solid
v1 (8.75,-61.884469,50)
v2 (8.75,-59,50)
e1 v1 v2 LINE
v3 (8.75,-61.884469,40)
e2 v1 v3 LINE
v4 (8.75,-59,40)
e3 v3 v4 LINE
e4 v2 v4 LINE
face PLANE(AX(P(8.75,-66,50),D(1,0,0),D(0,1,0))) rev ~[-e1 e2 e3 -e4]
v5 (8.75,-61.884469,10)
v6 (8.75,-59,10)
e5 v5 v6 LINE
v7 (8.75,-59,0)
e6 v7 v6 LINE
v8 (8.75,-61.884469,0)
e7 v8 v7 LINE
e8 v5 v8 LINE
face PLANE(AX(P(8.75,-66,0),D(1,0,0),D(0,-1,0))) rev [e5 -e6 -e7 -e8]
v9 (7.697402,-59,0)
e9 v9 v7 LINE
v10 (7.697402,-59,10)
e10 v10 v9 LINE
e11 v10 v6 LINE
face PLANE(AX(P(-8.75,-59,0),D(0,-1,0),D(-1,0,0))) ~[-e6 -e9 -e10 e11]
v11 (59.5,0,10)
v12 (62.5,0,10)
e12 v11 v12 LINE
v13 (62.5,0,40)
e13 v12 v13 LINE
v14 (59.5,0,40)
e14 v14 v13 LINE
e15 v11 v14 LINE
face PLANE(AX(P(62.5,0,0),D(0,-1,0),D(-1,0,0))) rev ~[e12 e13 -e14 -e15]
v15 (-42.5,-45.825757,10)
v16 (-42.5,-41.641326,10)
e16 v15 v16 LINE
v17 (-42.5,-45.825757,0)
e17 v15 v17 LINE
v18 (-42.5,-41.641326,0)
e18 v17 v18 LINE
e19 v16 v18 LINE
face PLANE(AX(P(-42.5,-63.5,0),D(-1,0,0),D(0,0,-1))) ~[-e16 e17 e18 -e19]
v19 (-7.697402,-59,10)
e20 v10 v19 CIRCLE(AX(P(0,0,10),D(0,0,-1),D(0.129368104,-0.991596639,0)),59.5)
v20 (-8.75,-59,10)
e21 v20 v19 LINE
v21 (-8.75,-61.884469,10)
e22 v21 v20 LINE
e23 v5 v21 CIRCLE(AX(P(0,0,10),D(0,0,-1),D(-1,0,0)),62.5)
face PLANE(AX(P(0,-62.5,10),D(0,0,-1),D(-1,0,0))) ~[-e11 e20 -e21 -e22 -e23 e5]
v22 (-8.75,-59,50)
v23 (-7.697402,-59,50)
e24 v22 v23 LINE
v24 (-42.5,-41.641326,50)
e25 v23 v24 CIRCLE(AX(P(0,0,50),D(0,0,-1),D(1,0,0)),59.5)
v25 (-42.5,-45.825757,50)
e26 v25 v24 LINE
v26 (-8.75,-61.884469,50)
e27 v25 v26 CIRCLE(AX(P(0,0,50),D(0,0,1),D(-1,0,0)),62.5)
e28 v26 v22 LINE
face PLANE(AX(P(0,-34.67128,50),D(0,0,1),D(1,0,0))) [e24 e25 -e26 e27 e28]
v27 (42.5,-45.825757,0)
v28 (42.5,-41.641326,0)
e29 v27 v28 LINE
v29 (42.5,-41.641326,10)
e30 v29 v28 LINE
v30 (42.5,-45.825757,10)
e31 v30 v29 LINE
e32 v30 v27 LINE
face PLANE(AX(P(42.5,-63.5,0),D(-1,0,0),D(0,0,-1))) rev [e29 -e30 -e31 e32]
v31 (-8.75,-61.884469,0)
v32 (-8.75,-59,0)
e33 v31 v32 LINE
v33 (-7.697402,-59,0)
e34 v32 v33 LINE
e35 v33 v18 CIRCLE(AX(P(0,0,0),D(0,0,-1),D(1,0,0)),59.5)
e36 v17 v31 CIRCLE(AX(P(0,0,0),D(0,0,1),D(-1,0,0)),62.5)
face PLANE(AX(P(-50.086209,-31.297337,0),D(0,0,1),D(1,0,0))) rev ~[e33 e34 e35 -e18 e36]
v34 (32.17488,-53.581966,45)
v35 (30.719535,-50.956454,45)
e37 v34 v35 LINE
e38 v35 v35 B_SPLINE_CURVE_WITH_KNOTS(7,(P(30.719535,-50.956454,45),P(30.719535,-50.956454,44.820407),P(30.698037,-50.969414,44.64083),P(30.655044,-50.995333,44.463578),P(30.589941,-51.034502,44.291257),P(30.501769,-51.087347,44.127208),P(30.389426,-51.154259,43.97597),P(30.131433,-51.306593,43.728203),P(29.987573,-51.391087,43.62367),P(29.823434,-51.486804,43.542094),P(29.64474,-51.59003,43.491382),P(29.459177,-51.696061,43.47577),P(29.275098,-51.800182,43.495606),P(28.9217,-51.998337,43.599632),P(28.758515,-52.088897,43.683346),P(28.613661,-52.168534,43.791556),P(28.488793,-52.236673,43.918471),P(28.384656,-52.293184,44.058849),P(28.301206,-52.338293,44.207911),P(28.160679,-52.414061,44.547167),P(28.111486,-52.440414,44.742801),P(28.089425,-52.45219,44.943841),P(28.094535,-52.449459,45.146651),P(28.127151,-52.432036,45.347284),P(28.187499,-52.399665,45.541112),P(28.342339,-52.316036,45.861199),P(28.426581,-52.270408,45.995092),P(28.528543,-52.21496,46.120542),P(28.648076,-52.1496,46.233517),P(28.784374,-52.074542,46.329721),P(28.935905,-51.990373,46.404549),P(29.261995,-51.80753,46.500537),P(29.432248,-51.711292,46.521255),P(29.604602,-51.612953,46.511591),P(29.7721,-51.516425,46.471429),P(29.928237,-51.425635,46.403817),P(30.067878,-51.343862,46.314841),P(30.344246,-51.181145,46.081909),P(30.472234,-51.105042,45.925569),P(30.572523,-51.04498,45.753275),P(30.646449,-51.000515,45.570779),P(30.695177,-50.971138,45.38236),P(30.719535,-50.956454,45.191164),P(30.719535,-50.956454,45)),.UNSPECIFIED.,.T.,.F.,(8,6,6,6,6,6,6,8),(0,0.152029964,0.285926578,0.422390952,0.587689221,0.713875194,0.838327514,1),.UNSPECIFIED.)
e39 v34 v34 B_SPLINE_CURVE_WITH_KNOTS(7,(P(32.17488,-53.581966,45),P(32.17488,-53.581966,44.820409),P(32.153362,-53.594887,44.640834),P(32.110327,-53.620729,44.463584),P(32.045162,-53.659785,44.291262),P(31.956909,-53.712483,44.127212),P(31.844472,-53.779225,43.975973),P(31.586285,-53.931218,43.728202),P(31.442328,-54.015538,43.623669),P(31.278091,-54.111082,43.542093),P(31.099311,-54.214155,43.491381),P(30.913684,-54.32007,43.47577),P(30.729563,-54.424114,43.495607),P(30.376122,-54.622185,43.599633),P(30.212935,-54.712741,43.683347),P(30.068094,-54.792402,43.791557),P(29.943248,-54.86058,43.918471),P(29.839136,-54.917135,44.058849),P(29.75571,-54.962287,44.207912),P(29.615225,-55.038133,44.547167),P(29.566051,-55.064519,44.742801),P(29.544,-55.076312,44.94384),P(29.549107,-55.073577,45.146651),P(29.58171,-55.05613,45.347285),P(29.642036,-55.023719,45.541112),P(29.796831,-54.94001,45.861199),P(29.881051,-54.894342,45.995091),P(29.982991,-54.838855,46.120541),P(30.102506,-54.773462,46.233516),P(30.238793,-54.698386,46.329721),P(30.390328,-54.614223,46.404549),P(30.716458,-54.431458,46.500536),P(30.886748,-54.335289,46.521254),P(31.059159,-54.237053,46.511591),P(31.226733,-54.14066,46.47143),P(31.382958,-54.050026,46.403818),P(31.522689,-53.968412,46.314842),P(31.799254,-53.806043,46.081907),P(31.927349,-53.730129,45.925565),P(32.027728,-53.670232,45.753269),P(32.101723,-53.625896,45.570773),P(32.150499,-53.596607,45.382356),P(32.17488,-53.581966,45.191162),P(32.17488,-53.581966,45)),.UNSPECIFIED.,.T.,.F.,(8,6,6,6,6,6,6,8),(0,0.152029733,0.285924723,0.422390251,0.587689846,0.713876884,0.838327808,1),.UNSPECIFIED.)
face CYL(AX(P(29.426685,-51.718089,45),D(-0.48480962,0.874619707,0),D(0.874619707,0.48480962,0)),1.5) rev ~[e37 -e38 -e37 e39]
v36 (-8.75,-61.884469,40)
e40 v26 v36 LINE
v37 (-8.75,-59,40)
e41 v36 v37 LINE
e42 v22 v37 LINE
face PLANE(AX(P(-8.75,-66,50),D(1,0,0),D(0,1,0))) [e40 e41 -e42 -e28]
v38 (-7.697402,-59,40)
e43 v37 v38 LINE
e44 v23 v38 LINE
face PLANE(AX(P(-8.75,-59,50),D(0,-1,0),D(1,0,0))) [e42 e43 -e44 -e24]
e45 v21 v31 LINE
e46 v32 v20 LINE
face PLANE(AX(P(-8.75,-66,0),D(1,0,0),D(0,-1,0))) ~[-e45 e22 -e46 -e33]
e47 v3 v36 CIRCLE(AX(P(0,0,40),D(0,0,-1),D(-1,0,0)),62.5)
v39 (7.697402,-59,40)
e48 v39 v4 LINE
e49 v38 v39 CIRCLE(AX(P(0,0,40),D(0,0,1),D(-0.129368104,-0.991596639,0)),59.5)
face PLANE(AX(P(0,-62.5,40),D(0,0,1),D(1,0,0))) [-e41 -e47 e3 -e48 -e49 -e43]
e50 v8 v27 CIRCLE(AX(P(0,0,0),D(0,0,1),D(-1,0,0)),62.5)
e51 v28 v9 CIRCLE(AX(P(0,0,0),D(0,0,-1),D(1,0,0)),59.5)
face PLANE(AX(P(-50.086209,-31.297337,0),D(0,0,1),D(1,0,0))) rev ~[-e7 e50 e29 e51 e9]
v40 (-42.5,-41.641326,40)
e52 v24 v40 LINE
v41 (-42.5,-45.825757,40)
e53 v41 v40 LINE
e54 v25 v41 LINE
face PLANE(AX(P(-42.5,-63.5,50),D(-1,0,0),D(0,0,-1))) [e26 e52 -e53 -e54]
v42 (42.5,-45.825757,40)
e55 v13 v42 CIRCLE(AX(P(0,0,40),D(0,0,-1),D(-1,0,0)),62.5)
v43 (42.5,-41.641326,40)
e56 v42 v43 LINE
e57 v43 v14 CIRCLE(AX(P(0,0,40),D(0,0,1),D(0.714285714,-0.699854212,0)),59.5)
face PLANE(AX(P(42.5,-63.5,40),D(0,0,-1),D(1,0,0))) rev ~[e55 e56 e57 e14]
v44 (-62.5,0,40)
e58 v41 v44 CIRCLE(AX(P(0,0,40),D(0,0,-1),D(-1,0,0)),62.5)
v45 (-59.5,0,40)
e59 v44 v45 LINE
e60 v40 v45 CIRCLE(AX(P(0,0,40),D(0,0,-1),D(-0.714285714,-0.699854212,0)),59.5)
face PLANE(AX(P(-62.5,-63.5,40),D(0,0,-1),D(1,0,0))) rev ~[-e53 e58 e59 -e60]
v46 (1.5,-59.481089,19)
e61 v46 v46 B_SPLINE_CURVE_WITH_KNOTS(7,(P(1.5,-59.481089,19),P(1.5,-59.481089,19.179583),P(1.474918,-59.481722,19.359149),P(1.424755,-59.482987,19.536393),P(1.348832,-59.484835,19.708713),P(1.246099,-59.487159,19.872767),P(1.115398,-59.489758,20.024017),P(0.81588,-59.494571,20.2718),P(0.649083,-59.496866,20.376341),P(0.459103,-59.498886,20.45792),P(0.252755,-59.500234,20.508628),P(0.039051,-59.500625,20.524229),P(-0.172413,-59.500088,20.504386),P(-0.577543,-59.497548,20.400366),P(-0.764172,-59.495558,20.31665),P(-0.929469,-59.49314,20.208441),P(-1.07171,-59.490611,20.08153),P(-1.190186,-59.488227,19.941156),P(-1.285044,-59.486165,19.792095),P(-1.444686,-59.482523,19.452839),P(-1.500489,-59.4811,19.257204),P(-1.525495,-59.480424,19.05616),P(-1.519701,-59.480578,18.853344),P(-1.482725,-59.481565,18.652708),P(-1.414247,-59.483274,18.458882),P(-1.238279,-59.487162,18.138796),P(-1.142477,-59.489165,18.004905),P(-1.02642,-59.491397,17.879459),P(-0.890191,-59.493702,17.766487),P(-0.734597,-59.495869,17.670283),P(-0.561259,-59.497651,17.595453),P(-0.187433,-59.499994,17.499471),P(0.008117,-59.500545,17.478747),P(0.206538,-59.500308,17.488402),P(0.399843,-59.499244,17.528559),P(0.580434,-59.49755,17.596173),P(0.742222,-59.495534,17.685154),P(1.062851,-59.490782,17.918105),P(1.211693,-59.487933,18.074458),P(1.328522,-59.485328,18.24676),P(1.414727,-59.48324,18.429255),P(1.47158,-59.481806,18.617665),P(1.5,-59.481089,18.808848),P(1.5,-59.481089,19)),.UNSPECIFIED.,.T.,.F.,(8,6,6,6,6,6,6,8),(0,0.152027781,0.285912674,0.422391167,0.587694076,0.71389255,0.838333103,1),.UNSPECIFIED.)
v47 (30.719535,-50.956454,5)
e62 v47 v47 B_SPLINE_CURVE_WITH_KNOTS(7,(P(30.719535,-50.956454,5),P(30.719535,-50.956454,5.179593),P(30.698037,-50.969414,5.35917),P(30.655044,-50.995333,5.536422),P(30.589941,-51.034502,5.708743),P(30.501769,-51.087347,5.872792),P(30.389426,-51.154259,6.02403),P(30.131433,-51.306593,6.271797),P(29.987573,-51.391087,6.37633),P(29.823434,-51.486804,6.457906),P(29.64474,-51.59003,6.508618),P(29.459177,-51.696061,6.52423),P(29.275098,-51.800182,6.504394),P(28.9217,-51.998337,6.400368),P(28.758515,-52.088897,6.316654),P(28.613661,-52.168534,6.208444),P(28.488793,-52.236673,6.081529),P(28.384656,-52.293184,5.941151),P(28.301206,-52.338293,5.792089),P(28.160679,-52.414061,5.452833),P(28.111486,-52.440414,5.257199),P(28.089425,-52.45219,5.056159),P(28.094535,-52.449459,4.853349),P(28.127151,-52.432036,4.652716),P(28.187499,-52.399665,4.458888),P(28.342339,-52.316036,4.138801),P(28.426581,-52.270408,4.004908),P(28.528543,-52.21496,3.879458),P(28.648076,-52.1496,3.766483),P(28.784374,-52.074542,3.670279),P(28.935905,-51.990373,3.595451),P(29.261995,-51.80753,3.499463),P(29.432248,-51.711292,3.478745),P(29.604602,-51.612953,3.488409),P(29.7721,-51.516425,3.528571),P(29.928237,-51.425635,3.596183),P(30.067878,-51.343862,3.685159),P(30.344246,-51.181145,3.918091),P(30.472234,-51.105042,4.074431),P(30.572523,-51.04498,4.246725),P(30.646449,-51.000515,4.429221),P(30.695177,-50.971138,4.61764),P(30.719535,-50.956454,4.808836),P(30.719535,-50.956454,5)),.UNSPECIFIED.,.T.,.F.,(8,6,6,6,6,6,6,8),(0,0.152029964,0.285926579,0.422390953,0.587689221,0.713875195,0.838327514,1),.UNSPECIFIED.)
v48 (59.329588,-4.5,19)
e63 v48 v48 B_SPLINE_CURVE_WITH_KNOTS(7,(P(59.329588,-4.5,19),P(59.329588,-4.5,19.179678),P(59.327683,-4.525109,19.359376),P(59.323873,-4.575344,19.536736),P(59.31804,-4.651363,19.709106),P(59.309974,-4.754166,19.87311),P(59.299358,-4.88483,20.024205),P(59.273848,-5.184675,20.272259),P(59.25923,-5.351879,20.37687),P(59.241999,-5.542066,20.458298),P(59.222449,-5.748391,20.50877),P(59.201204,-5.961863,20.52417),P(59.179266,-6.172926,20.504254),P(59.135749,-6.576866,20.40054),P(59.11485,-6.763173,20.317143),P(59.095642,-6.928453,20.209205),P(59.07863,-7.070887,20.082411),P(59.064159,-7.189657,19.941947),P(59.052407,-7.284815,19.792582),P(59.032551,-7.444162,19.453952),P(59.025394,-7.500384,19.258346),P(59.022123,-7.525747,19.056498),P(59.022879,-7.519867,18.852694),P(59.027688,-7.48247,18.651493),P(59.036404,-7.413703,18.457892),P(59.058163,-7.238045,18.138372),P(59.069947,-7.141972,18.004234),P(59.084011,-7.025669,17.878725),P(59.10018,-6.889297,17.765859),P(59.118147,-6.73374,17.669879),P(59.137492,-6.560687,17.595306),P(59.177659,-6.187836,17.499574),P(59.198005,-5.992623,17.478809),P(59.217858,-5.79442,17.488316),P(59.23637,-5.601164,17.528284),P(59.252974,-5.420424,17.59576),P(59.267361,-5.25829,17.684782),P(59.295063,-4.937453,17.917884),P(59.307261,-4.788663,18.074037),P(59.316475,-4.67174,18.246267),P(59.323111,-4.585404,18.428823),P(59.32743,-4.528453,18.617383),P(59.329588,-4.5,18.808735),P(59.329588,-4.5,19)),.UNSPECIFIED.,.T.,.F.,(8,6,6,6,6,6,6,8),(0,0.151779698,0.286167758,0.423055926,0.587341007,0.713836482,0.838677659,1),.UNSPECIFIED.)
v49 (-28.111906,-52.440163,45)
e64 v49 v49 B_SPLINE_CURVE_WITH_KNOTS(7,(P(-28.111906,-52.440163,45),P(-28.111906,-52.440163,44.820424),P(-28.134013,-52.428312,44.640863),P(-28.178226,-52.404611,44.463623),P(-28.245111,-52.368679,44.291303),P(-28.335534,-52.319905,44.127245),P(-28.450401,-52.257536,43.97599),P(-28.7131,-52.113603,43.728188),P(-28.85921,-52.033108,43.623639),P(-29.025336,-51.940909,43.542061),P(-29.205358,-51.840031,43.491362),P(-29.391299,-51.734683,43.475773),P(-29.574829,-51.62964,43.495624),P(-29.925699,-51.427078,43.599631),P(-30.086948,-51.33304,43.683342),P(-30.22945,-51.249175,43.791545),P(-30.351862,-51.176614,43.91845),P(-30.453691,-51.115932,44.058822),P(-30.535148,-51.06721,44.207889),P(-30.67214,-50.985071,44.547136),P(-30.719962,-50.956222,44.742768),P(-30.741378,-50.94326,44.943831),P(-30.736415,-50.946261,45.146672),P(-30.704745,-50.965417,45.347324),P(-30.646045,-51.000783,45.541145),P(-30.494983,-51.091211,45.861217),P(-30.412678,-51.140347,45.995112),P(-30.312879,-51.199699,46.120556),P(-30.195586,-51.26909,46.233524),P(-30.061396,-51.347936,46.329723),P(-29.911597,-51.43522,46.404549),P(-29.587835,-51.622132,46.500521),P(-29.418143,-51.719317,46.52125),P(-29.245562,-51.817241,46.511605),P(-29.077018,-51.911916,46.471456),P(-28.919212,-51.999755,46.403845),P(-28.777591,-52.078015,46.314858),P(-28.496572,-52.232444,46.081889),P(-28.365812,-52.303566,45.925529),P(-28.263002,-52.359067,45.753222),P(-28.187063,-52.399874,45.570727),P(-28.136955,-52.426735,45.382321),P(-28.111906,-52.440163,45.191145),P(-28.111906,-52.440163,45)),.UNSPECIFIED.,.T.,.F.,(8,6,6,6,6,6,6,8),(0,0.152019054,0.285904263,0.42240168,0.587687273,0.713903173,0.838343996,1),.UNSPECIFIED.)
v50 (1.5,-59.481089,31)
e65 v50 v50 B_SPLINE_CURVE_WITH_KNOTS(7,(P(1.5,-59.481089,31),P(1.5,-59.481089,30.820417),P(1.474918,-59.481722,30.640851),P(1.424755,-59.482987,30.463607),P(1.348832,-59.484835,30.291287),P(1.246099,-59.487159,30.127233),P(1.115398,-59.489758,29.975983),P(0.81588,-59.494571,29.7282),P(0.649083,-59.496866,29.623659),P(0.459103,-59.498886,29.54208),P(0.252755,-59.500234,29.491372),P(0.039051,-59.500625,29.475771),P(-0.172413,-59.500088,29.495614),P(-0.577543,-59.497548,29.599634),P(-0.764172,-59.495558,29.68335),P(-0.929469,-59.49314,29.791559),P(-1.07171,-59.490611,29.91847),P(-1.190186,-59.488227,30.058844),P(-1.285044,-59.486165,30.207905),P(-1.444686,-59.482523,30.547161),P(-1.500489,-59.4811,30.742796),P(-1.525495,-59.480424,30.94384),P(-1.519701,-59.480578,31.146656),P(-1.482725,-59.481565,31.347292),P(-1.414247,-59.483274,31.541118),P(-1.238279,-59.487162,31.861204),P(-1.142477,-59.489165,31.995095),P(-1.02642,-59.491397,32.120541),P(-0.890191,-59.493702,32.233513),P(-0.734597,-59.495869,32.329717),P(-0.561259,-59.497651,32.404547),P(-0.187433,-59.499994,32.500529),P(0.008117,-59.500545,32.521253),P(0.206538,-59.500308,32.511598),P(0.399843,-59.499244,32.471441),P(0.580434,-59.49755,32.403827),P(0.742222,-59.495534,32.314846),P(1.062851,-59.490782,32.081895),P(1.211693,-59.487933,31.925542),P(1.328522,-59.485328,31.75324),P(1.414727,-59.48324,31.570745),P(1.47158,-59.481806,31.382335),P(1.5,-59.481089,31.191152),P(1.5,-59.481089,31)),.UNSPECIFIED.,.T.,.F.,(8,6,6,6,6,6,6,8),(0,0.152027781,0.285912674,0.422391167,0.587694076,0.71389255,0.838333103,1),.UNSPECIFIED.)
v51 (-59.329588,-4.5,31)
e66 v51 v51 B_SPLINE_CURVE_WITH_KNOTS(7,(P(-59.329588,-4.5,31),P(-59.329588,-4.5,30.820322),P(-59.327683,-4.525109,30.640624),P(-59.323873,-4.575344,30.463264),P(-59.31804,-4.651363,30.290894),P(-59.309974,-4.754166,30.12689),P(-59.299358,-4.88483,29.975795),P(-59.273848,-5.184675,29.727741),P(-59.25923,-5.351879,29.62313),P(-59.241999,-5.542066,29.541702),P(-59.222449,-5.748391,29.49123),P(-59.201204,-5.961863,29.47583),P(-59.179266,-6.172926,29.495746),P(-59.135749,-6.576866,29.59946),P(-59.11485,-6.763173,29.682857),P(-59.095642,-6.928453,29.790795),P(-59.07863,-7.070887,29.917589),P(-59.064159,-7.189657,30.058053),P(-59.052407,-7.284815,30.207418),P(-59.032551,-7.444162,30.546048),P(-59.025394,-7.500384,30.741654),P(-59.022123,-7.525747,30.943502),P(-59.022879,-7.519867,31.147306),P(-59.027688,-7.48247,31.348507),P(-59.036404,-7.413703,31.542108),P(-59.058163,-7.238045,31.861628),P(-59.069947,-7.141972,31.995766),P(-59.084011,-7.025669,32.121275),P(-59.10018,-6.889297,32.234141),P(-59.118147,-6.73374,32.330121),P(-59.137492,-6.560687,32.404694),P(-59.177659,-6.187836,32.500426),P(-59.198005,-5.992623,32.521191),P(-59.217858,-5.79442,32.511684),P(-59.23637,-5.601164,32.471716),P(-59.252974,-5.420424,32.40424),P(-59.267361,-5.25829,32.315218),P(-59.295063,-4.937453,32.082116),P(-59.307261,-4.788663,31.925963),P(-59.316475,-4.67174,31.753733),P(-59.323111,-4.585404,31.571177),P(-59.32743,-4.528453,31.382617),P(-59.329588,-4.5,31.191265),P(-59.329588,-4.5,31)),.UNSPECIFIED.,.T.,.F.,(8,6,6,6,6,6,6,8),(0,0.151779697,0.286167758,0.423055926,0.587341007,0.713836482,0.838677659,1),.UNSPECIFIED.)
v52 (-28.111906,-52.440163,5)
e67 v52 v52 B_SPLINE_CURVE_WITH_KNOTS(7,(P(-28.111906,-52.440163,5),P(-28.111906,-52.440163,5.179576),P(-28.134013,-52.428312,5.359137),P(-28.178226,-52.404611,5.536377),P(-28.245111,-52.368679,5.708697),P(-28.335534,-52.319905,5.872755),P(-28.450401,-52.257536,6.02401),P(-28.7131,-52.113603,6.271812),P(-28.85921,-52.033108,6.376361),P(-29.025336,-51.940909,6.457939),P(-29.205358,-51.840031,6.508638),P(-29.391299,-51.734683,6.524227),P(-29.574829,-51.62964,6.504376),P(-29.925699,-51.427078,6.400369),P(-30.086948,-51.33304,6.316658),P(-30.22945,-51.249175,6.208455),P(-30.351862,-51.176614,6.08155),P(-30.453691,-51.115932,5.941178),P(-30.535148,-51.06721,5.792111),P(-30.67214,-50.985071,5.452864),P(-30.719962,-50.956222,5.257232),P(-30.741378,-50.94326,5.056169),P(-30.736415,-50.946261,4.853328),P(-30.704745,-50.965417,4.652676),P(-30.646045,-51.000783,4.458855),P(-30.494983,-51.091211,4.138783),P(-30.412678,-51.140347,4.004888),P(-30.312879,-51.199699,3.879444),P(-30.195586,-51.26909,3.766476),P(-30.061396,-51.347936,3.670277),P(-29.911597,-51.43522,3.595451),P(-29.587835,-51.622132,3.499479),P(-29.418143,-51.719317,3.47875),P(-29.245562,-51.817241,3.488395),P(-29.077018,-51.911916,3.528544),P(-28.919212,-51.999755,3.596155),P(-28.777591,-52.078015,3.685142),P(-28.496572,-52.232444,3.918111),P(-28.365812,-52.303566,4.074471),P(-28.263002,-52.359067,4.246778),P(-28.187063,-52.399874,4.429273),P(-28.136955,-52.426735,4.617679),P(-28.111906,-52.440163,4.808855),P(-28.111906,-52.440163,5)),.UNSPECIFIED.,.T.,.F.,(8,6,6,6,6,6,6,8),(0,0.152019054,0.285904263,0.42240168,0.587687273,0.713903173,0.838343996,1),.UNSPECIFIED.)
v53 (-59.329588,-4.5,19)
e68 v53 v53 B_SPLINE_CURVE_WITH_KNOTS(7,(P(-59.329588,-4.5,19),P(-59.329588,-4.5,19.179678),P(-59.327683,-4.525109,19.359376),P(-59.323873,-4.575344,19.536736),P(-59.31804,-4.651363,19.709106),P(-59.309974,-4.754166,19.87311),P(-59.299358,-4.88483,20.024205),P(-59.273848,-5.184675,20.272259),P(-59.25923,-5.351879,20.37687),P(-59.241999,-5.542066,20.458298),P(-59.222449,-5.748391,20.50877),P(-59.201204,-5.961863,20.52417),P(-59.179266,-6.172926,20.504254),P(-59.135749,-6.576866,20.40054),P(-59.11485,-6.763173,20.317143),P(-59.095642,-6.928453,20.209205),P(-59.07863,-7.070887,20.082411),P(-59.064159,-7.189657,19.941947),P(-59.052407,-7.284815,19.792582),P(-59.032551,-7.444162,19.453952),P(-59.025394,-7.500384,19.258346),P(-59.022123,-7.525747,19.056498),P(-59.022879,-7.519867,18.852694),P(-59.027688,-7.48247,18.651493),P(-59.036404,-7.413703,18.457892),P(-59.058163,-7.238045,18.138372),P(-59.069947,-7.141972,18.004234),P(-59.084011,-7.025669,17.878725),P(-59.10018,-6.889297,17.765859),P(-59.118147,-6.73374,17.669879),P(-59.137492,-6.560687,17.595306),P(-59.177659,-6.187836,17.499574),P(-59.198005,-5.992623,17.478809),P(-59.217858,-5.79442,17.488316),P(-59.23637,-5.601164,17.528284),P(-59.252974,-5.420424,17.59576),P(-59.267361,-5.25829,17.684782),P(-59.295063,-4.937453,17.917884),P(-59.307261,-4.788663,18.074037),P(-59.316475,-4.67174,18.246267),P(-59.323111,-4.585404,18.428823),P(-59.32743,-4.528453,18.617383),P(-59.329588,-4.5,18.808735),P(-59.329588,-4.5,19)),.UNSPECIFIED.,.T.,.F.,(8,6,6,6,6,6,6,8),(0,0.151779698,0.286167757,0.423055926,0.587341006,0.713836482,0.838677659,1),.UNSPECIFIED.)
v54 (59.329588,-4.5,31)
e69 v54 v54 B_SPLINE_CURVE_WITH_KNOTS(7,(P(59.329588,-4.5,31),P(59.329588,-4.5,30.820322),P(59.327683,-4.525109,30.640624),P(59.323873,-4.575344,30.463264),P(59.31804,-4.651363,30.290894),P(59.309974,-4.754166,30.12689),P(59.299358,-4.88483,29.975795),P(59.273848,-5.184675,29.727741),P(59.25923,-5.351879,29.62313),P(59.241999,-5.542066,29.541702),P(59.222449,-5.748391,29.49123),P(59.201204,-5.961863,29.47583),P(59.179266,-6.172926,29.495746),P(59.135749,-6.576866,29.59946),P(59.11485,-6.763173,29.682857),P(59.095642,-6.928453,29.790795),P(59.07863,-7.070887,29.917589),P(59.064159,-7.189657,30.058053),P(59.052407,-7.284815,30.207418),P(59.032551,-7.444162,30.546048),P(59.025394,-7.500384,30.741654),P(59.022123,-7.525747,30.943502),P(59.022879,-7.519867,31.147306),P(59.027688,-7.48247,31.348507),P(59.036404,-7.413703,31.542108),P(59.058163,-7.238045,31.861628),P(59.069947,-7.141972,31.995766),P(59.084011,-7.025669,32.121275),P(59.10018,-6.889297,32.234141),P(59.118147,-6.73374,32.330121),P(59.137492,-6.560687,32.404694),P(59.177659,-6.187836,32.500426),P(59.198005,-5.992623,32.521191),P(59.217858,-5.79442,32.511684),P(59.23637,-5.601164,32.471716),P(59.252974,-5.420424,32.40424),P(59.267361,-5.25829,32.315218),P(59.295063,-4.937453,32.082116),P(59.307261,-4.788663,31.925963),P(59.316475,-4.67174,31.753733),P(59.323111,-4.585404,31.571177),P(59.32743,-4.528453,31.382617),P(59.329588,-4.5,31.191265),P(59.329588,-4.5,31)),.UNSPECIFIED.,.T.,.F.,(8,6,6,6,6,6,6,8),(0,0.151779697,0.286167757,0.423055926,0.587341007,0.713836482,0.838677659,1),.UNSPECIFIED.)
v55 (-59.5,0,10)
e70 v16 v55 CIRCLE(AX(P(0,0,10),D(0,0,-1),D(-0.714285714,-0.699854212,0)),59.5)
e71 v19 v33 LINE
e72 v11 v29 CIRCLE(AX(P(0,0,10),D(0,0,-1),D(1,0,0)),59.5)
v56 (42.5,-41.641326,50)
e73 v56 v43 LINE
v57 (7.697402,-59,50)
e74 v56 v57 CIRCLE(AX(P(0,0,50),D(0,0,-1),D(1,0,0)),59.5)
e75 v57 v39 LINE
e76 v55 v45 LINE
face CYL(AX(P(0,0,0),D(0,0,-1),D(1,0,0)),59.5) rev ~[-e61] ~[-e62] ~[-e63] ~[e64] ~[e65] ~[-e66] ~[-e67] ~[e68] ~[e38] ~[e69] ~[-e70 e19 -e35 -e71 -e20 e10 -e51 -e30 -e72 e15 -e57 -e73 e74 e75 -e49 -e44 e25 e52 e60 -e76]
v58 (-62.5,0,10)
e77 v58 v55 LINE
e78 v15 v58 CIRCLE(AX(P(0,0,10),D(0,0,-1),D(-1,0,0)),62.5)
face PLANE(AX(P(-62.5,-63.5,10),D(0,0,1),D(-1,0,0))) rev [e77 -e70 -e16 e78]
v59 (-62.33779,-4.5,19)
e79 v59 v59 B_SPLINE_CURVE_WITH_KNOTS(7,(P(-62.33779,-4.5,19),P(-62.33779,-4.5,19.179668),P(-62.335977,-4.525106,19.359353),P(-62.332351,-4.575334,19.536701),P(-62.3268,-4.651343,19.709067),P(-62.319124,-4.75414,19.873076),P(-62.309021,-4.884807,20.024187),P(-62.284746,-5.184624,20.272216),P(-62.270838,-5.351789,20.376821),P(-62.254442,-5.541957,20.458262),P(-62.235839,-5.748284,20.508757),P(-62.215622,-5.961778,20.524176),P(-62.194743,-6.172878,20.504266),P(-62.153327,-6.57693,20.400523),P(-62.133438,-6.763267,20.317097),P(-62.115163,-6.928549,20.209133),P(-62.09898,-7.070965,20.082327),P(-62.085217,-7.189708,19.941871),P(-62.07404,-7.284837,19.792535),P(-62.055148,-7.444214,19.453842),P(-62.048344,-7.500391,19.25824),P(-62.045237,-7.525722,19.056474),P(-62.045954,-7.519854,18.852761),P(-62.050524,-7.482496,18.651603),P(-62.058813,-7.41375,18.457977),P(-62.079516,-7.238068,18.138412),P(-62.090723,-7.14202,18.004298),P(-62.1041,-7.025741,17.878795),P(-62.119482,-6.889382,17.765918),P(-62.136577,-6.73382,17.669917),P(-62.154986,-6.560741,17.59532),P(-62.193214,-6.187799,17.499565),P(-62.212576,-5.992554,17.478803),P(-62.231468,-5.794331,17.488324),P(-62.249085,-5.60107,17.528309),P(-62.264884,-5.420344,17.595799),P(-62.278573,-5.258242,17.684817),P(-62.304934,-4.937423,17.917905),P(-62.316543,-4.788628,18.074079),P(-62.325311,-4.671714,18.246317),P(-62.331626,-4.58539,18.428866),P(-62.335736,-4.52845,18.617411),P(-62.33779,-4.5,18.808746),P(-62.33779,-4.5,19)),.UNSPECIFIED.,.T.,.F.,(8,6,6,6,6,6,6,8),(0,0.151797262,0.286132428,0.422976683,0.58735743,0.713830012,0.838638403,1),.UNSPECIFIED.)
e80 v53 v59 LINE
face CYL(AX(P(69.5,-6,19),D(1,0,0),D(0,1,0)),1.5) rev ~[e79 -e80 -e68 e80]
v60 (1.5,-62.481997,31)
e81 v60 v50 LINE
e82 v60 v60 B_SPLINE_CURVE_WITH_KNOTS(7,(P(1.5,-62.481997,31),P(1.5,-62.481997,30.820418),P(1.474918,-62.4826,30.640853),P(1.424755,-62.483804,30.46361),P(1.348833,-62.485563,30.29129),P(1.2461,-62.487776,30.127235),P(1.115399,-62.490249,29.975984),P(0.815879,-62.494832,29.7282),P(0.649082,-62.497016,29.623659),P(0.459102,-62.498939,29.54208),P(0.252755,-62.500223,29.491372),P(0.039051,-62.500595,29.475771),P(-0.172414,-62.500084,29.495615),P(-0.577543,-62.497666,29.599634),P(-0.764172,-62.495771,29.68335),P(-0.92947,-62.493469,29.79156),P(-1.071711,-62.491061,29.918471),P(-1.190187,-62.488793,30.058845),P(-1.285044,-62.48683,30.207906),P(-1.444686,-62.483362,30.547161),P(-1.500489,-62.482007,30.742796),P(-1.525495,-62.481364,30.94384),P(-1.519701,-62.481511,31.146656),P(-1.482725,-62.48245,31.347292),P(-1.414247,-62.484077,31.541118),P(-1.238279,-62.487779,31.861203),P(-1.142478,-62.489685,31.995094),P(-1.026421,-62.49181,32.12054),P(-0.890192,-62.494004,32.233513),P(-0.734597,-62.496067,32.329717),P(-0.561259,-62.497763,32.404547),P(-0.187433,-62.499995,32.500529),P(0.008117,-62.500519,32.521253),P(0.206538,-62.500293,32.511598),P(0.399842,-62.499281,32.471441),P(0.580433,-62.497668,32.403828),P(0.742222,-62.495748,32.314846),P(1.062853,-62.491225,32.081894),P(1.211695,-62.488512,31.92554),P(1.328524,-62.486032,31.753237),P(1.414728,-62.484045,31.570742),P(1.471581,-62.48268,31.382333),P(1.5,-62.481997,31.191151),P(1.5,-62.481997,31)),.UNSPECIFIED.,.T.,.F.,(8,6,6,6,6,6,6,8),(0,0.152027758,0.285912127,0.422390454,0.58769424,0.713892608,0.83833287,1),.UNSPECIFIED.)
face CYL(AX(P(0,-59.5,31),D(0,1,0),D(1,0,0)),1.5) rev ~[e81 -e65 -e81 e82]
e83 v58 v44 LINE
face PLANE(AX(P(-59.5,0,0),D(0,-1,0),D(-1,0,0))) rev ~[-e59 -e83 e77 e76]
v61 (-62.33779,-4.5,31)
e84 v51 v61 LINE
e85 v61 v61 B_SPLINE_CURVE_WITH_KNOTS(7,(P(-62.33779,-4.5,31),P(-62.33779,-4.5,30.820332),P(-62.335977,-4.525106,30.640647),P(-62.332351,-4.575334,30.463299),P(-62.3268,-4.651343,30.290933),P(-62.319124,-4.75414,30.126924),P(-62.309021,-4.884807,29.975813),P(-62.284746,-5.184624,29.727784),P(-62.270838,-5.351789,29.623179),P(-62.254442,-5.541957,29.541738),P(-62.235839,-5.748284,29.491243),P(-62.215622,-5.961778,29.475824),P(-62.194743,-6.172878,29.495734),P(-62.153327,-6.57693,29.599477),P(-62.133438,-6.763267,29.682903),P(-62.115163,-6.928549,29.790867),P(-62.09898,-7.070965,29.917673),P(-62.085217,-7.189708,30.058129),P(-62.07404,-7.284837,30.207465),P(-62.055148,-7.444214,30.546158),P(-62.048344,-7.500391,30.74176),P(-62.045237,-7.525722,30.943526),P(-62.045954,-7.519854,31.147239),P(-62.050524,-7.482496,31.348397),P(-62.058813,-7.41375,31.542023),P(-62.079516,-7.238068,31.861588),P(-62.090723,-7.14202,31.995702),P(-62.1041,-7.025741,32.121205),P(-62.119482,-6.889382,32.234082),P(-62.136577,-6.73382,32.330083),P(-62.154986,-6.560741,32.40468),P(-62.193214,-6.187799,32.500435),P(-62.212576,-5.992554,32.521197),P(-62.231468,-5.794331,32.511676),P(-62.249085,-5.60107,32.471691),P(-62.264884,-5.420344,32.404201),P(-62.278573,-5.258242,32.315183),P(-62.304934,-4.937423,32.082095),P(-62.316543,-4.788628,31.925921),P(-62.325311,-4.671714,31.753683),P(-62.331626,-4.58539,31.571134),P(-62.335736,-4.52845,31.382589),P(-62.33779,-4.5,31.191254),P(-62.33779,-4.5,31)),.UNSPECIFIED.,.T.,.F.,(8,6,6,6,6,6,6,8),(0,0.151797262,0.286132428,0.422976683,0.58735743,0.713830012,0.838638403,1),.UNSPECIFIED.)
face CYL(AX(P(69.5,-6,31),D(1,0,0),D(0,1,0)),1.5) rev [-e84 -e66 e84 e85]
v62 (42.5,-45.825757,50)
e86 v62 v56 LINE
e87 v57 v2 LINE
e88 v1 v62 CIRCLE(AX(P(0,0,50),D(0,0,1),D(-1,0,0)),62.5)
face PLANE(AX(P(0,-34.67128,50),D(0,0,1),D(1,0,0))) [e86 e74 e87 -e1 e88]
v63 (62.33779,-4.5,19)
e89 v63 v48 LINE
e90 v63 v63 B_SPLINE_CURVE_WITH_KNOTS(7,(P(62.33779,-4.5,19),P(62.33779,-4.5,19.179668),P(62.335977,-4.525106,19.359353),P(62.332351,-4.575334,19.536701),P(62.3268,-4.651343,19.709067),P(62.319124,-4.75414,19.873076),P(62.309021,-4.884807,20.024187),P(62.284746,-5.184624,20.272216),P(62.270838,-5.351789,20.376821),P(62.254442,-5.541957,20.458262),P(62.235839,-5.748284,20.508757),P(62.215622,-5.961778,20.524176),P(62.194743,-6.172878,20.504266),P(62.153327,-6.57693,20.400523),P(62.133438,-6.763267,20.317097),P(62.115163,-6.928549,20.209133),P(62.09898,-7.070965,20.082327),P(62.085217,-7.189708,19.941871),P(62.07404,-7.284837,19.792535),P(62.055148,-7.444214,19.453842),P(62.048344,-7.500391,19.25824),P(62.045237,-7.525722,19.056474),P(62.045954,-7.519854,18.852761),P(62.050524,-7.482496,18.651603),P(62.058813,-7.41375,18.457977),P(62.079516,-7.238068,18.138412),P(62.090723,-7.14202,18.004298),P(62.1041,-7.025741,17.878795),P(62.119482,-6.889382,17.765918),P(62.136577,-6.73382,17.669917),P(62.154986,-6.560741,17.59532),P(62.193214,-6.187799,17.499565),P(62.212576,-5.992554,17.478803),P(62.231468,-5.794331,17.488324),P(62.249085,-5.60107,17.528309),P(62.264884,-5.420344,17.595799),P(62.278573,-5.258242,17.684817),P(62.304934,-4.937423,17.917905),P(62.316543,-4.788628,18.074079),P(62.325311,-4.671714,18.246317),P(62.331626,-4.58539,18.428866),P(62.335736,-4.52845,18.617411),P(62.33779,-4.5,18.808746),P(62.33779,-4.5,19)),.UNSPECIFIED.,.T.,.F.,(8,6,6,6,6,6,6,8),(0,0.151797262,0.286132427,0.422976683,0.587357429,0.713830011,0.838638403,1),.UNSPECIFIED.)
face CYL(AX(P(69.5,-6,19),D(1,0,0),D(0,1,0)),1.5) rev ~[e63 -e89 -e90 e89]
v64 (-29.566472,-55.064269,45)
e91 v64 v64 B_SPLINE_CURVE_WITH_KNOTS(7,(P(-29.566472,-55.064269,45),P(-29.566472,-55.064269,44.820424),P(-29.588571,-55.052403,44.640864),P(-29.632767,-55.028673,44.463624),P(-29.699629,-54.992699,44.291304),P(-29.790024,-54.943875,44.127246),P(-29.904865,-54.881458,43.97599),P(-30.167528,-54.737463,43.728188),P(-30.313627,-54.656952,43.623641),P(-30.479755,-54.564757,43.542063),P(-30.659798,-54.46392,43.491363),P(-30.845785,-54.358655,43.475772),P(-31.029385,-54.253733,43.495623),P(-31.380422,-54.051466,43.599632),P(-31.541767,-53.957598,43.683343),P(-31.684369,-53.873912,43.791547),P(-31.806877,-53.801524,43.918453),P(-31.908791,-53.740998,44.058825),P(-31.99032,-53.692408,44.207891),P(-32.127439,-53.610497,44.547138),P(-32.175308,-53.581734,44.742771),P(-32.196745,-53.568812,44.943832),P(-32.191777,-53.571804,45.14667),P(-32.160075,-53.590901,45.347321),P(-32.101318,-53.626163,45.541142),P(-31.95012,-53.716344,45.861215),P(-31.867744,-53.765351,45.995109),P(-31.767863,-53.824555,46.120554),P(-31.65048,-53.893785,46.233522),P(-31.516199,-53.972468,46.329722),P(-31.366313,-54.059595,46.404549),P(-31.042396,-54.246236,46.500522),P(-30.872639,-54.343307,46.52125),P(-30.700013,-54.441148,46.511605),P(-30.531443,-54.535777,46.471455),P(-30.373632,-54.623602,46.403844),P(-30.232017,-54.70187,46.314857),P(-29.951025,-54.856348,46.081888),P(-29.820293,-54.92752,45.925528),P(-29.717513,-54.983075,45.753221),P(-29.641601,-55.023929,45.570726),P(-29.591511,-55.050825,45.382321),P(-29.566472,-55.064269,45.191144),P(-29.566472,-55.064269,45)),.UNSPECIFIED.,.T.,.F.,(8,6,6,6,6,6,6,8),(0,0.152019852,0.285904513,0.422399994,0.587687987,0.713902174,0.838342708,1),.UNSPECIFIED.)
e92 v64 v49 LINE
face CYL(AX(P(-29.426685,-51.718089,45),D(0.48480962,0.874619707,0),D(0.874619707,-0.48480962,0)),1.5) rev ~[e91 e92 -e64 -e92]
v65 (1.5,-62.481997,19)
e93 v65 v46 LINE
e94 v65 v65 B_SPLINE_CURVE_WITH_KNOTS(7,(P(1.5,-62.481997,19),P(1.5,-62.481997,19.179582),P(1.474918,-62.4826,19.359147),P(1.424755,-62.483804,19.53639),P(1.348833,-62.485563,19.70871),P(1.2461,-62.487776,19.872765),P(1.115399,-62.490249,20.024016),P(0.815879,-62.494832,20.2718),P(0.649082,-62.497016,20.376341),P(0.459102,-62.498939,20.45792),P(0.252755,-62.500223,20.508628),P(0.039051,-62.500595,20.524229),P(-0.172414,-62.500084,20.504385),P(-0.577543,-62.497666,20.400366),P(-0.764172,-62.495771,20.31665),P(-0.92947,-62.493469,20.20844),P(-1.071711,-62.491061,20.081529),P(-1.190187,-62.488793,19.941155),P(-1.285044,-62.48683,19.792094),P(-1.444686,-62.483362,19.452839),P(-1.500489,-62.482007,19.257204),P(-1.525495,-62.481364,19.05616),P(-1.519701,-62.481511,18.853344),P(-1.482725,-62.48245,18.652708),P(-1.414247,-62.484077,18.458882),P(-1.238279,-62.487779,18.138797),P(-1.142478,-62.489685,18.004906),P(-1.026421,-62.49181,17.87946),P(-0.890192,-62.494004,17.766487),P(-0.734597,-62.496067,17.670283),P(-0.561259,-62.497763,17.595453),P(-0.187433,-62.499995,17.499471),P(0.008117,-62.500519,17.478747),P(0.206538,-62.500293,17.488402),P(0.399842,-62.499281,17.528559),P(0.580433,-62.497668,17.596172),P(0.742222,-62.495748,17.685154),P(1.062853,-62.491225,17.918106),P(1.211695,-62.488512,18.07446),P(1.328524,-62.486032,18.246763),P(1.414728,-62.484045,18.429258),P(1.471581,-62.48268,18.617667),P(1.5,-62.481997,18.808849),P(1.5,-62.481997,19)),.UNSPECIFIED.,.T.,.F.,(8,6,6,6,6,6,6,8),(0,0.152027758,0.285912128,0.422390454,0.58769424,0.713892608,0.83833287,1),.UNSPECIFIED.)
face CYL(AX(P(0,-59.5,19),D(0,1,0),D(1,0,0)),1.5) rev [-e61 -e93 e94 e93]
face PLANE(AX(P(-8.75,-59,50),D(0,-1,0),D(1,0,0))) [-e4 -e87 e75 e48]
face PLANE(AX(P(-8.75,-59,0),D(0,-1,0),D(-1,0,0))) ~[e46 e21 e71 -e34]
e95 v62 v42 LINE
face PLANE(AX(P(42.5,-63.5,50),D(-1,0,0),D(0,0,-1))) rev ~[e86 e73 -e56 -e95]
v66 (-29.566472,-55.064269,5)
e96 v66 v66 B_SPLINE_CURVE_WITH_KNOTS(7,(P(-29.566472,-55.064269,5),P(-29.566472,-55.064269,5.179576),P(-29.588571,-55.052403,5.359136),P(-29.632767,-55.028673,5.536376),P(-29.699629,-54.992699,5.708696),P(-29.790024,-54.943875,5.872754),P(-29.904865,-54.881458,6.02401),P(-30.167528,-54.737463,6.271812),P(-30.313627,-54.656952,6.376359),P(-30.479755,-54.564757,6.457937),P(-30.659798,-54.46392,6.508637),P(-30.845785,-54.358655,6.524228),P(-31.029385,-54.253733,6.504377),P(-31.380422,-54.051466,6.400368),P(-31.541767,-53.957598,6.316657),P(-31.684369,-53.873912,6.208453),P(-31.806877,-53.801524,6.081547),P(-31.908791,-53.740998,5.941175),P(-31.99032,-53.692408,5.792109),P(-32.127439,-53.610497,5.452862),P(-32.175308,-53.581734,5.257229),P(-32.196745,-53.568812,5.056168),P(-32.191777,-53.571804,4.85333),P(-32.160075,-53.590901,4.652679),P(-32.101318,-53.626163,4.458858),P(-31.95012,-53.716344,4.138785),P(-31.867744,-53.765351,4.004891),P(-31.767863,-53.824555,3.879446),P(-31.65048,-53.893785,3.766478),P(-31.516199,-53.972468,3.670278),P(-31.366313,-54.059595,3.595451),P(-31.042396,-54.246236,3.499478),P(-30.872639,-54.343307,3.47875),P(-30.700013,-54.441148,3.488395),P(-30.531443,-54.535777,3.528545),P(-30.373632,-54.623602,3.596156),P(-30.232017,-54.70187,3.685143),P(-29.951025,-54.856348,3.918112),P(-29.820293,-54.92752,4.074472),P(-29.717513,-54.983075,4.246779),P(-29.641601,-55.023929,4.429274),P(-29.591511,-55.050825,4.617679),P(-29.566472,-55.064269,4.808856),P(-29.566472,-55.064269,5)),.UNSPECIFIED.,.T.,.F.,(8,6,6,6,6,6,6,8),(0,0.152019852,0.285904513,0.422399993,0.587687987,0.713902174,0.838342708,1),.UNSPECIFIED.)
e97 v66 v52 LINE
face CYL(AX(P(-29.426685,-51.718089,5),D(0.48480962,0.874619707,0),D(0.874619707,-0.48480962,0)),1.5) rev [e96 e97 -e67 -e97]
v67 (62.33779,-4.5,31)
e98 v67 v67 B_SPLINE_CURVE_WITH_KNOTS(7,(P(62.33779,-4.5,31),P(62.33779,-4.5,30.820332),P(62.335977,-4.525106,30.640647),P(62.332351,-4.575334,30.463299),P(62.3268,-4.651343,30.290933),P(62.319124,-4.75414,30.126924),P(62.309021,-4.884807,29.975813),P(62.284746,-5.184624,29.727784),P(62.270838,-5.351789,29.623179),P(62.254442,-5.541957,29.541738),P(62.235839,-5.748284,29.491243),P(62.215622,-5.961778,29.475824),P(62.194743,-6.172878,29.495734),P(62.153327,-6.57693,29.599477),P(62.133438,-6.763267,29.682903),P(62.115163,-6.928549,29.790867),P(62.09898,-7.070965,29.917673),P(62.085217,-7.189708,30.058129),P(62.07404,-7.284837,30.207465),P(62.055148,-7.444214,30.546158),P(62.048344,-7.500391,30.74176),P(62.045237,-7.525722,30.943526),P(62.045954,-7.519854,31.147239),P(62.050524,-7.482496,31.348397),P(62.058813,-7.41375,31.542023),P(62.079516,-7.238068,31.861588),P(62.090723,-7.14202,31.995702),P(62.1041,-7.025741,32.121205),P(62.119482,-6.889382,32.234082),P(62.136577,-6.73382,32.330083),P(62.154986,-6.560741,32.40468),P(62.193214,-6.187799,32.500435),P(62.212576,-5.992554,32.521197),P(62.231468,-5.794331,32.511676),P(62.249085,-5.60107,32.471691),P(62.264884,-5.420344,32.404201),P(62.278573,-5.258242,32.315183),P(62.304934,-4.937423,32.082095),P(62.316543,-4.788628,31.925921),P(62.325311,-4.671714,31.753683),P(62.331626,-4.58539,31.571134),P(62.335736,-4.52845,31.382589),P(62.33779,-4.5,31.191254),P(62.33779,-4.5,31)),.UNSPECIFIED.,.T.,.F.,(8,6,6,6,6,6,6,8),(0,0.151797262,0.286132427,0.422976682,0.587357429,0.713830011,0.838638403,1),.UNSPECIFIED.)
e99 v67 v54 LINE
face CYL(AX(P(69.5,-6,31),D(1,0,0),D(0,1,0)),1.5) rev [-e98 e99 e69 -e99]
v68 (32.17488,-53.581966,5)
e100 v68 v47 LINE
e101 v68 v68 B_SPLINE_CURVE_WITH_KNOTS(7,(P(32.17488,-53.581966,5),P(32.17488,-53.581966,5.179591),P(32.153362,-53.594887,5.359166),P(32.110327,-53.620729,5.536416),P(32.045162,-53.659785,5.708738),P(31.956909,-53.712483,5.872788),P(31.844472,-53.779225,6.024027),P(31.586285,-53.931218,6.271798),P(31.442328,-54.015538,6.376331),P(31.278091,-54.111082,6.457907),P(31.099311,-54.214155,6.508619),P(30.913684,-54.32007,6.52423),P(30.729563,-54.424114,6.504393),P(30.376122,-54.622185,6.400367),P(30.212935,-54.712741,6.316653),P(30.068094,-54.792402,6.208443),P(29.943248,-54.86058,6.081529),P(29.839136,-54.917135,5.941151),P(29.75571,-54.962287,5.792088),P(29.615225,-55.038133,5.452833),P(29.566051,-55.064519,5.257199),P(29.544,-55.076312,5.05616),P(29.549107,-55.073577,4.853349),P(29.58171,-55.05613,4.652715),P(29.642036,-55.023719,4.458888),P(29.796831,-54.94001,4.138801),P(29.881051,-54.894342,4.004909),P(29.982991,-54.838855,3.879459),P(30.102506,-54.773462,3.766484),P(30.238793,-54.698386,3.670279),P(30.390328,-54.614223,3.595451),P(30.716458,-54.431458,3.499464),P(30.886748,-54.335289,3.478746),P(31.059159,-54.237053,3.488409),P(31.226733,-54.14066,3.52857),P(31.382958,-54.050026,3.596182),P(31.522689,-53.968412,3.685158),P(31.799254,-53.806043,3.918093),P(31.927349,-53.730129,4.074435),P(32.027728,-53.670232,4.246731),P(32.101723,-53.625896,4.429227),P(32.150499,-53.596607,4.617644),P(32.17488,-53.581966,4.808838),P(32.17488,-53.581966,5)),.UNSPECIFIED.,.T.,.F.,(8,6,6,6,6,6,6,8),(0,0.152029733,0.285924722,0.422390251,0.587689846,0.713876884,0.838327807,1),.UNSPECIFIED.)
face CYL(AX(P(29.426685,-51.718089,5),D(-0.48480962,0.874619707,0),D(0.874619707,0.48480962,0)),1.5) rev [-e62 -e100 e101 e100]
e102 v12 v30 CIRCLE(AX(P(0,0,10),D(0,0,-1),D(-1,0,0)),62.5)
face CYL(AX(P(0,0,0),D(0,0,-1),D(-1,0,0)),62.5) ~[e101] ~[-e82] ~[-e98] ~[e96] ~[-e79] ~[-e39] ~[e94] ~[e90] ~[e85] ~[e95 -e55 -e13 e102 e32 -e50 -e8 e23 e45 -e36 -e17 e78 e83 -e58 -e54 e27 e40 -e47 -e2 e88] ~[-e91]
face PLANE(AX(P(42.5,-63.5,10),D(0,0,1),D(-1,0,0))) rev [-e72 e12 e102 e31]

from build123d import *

# Parameters (mm, degrees)
BOSS_EXTRUDE1_DEPTH = 50
CUT_EXTRUDE2_START  = -63.5
SKETCH3_W           = 20
SKETCH3_H           = 10
CUT_EXTRUDE2_DEPTH  = 64.5
SKETCH4_W           = 17.5
SKETCH4_H           = 7
CUT_EXTRUDE3_DEPTH  = 10
BOSS_EXTRUDE2_DEPTH = 10
CUT_EXTRUDE6_DEPTH  = 10
SKETCH16_R          = 1.5
CUT_EXTRUDE7_DEPTH  = 10
SKETCH17_R          = 1.5
CUT_EXTRUDE8_DEPTH  = 10
CUT_EXTRUDE9_START  = -10
SKETCH18_R          = 1.5
CUT_EXTRUDE9_DEPTH  = 137
SKETCH19_R          = 1.5
CUT_EXTRUDE10_DEPTH = 10


with BuildPart() as part:
    # Sketch1 → Boss-Extrude1 (new body)
    with BuildSketch(Plane.XY):
        with BuildLine():
            ThreePointArc((59.5, 0), (0, -59.5), (-59.5, 0))
            Line((-59.5, 0), (-62.5, 0))
            ThreePointArc((-62.5, 0), (0, -62.5), (62.5, 0))
            Line((62.5, 0), (59.5, 0))
        make_face()
    extrude(amount=BOSS_EXTRUDE1_DEPTH)

    # Sketch3 → Cut-Extrude2 (cut)
    with BuildSketch(Plane(origin=(0, 0, 0), x_dir=(1, 0, 0), z_dir=(0, 1, 0)).offset(CUT_EXTRUDE2_START)):
        with Locations((-52.5, -45)):
            Rectangle(SKETCH3_W, SKETCH3_H)
        with Locations((52.5, -45)):
            Rectangle(SKETCH3_W, SKETCH3_H)
    cut_extrude2 = extrude(amount=CUT_EXTRUDE2_DEPTH, mode=Mode.SUBTRACT)

    # Sketch4 → Cut-Extrude3 (cut)
    with BuildSketch(Plane.XY.offset(50)):
        with Locations((0, -62.5)):
            Rectangle(SKETCH4_W, SKETCH4_H)
    cut_extrude3 = extrude(amount=-CUT_EXTRUDE3_DEPTH, mode=Mode.SUBTRACT)

    # Sketch9 → Boss-Extrude2 (add)
    with BuildSketch(Plane.XY):
        with BuildLine():
            Line((-52.112697755, -24.30055005), (-55.284775009, -25.779713966))
            ThreePointArc((-55.284775009, -25.779713966), (-51.730933866, -32.325075118), (-47.405903649, -38.388543854))
            Line((-47.405903649, -38.388543854), (-44.685892784, -36.185922485))
            ThreePointArc((-44.685892784, -36.185922485), (-48.762765529, -30.470357693), (-52.112697755, -24.30055005))
        make_face()
        with BuildLine():
            ThreePointArc((47.405903649, -38.388543854), (51.730933866, -32.325075118), (55.284775009, -25.779713966))
            Line((55.284775009, -25.779713966), (52.112697755, -24.30055005))
            ThreePointArc((52.112697755, -24.30055005), (48.762765529, -30.470357693), (44.685892784, -36.185922485))
            Line((44.685892784, -36.185922485), (47.405903649, -38.388543854))
        make_face()
        with BuildLine():
            Line((-7.007487246, -57.071403719), (-7.434029948, -60.54531525))
            ThreePointArc((-7.434029948, -60.54531525), (0, -61), (7.434029948, -60.54531525))
            Line((7.434029948, -60.54531525), (7.007487246, -57.071403719))
            ThreePointArc((7.007487246, -57.071403719), (0, -57.5), (-7.007487246, -57.071403719))
        make_face()
    boss_extrude2 = extrude(amount=BOSS_EXTRUDE2_DEPTH)

    # Sketch15 → Cut-Extrude6 (cut)
    with BuildSketch(Plane.XY):
        with BuildLine():
            Line((-52.112697755, -24.30055005), (-55.284775009, -25.779713966))
            ThreePointArc((-55.284775009, -25.779713966), (-51.730933866, -32.325075118), (-47.405903649, -38.388543854))
            Line((-47.405903649, -38.388543854), (-44.685892784, -36.185922485))
            ThreePointArc((-44.685892784, -36.185922485), (-48.762765529, -30.470357693), (-52.112697755, -24.30055005))
        make_face()
        with BuildLine():
            Line((-7.007487246, -57.071403719), (-7.434029948, -60.54531525))
            ThreePointArc((-7.434029948, -60.54531525), (0, -61), (7.434029948, -60.54531525))
            Line((7.434029948, -60.54531525), (7.007487246, -57.071403719))
            ThreePointArc((7.007487246, -57.071403719), (0, -57.5), (-7.007487246, -57.071403719))
        make_face()
        with BuildLine():
            ThreePointArc((47.405903649, -38.388543854), (51.730933866, -32.325075118), (55.284775009, -25.779713966))
            Line((55.284775009, -25.779713966), (52.112697755, -24.30055005))
            ThreePointArc((52.112697755, -24.30055005), (48.762765529, -30.470357693), (44.685892784, -36.185922485))
            Line((44.685892784, -36.185922485), (47.405903649, -38.388543854))
        make_face()
    cut_extrude6 = extrude(amount=CUT_EXTRUDE6_DEPTH, mode=Mode.SUBTRACT)

    # Sketch16 → Cut-Extrude7 (cut, symmetric)
    with BuildSketch(Plane(origin=(-28.846172405, -52.039872575, 0), x_dir=(0.874619707, -0.48480962, 0), z_dir=(0.48480962, 0.874619707, 0))):
        with Locations((-0.663731696, -45)):
            Circle(SKETCH16_R)
    cut_extrude7 = extrude(amount=CUT_EXTRUDE7_DEPTH, both=True, mode=Mode.SUBTRACT)

    # Sketch17 → Cut-Extrude8 (cut, symmetric)
    with BuildSketch(Plane(origin=(28.846172405, -52.039872575, 0), x_dir=(0.874619707, 0.48480962, 0), z_dir=(-0.48480962, 0.874619707, 0))):
        with Locations((0.663731696, -45)):
            Circle(SKETCH17_R)
    cut_extrude8 = extrude(amount=CUT_EXTRUDE8_DEPTH, both=True, mode=Mode.SUBTRACT)

    # Sketch18 → Cut-Extrude9 (cut)
    with BuildSketch(Plane(origin=(59.5, 0, 0), x_dir=(0, 1, 0), z_dir=(-1, 0, 0)).offset(CUT_EXTRUDE9_START)):
        with Locations((-6, -31)):
            Circle(SKETCH18_R)
    cut_extrude9 = extrude(amount=CUT_EXTRUDE9_DEPTH, mode=Mode.SUBTRACT)

    # Sketch19 → Cut-Extrude10 (cut, symmetric)
    with BuildSketch(Plane(origin=(0, -59.5, 0), x_dir=(1, 0, 0), z_dir=(0, 1, 0))):
        with Locations((0, -31)):
            Circle(SKETCH19_R)
    cut_extrude10 = extrude(amount=CUT_EXTRUDE10_DEPTH, both=True, mode=Mode.SUBTRACT)

    # Mirror4: Cut-Extrude2, Cut-Extrude3, Boss-Extrude2, Cut-Extrude6, Cut-Extrude7, Cut-Extrude8, Cut-Extrude9, Cut-Extrude10 across plane
    add(cut_extrude2.mirror(Plane.XY.offset(25)), mode=Mode.SUBTRACT)
    add(cut_extrude3.mirror(Plane.XY.offset(25)), mode=Mode.SUBTRACT)
    add(boss_extrude2.mirror(Plane.XY.offset(25)))
    add(cut_extrude6.mirror(Plane.XY.offset(25)), mode=Mode.SUBTRACT)
    add(cut_extrude7.mirror(Plane.XY.offset(25)), mode=Mode.SUBTRACT)
    add(cut_extrude8.mirror(Plane.XY.offset(25)), mode=Mode.SUBTRACT)
    add(cut_extrude9.mirror(Plane.XY.offset(25)), mode=Mode.SUBTRACT)
    add(cut_extrude10.mirror(Plane.XY.offset(25)), mode=Mode.SUBTRACT)


solid = part.part
